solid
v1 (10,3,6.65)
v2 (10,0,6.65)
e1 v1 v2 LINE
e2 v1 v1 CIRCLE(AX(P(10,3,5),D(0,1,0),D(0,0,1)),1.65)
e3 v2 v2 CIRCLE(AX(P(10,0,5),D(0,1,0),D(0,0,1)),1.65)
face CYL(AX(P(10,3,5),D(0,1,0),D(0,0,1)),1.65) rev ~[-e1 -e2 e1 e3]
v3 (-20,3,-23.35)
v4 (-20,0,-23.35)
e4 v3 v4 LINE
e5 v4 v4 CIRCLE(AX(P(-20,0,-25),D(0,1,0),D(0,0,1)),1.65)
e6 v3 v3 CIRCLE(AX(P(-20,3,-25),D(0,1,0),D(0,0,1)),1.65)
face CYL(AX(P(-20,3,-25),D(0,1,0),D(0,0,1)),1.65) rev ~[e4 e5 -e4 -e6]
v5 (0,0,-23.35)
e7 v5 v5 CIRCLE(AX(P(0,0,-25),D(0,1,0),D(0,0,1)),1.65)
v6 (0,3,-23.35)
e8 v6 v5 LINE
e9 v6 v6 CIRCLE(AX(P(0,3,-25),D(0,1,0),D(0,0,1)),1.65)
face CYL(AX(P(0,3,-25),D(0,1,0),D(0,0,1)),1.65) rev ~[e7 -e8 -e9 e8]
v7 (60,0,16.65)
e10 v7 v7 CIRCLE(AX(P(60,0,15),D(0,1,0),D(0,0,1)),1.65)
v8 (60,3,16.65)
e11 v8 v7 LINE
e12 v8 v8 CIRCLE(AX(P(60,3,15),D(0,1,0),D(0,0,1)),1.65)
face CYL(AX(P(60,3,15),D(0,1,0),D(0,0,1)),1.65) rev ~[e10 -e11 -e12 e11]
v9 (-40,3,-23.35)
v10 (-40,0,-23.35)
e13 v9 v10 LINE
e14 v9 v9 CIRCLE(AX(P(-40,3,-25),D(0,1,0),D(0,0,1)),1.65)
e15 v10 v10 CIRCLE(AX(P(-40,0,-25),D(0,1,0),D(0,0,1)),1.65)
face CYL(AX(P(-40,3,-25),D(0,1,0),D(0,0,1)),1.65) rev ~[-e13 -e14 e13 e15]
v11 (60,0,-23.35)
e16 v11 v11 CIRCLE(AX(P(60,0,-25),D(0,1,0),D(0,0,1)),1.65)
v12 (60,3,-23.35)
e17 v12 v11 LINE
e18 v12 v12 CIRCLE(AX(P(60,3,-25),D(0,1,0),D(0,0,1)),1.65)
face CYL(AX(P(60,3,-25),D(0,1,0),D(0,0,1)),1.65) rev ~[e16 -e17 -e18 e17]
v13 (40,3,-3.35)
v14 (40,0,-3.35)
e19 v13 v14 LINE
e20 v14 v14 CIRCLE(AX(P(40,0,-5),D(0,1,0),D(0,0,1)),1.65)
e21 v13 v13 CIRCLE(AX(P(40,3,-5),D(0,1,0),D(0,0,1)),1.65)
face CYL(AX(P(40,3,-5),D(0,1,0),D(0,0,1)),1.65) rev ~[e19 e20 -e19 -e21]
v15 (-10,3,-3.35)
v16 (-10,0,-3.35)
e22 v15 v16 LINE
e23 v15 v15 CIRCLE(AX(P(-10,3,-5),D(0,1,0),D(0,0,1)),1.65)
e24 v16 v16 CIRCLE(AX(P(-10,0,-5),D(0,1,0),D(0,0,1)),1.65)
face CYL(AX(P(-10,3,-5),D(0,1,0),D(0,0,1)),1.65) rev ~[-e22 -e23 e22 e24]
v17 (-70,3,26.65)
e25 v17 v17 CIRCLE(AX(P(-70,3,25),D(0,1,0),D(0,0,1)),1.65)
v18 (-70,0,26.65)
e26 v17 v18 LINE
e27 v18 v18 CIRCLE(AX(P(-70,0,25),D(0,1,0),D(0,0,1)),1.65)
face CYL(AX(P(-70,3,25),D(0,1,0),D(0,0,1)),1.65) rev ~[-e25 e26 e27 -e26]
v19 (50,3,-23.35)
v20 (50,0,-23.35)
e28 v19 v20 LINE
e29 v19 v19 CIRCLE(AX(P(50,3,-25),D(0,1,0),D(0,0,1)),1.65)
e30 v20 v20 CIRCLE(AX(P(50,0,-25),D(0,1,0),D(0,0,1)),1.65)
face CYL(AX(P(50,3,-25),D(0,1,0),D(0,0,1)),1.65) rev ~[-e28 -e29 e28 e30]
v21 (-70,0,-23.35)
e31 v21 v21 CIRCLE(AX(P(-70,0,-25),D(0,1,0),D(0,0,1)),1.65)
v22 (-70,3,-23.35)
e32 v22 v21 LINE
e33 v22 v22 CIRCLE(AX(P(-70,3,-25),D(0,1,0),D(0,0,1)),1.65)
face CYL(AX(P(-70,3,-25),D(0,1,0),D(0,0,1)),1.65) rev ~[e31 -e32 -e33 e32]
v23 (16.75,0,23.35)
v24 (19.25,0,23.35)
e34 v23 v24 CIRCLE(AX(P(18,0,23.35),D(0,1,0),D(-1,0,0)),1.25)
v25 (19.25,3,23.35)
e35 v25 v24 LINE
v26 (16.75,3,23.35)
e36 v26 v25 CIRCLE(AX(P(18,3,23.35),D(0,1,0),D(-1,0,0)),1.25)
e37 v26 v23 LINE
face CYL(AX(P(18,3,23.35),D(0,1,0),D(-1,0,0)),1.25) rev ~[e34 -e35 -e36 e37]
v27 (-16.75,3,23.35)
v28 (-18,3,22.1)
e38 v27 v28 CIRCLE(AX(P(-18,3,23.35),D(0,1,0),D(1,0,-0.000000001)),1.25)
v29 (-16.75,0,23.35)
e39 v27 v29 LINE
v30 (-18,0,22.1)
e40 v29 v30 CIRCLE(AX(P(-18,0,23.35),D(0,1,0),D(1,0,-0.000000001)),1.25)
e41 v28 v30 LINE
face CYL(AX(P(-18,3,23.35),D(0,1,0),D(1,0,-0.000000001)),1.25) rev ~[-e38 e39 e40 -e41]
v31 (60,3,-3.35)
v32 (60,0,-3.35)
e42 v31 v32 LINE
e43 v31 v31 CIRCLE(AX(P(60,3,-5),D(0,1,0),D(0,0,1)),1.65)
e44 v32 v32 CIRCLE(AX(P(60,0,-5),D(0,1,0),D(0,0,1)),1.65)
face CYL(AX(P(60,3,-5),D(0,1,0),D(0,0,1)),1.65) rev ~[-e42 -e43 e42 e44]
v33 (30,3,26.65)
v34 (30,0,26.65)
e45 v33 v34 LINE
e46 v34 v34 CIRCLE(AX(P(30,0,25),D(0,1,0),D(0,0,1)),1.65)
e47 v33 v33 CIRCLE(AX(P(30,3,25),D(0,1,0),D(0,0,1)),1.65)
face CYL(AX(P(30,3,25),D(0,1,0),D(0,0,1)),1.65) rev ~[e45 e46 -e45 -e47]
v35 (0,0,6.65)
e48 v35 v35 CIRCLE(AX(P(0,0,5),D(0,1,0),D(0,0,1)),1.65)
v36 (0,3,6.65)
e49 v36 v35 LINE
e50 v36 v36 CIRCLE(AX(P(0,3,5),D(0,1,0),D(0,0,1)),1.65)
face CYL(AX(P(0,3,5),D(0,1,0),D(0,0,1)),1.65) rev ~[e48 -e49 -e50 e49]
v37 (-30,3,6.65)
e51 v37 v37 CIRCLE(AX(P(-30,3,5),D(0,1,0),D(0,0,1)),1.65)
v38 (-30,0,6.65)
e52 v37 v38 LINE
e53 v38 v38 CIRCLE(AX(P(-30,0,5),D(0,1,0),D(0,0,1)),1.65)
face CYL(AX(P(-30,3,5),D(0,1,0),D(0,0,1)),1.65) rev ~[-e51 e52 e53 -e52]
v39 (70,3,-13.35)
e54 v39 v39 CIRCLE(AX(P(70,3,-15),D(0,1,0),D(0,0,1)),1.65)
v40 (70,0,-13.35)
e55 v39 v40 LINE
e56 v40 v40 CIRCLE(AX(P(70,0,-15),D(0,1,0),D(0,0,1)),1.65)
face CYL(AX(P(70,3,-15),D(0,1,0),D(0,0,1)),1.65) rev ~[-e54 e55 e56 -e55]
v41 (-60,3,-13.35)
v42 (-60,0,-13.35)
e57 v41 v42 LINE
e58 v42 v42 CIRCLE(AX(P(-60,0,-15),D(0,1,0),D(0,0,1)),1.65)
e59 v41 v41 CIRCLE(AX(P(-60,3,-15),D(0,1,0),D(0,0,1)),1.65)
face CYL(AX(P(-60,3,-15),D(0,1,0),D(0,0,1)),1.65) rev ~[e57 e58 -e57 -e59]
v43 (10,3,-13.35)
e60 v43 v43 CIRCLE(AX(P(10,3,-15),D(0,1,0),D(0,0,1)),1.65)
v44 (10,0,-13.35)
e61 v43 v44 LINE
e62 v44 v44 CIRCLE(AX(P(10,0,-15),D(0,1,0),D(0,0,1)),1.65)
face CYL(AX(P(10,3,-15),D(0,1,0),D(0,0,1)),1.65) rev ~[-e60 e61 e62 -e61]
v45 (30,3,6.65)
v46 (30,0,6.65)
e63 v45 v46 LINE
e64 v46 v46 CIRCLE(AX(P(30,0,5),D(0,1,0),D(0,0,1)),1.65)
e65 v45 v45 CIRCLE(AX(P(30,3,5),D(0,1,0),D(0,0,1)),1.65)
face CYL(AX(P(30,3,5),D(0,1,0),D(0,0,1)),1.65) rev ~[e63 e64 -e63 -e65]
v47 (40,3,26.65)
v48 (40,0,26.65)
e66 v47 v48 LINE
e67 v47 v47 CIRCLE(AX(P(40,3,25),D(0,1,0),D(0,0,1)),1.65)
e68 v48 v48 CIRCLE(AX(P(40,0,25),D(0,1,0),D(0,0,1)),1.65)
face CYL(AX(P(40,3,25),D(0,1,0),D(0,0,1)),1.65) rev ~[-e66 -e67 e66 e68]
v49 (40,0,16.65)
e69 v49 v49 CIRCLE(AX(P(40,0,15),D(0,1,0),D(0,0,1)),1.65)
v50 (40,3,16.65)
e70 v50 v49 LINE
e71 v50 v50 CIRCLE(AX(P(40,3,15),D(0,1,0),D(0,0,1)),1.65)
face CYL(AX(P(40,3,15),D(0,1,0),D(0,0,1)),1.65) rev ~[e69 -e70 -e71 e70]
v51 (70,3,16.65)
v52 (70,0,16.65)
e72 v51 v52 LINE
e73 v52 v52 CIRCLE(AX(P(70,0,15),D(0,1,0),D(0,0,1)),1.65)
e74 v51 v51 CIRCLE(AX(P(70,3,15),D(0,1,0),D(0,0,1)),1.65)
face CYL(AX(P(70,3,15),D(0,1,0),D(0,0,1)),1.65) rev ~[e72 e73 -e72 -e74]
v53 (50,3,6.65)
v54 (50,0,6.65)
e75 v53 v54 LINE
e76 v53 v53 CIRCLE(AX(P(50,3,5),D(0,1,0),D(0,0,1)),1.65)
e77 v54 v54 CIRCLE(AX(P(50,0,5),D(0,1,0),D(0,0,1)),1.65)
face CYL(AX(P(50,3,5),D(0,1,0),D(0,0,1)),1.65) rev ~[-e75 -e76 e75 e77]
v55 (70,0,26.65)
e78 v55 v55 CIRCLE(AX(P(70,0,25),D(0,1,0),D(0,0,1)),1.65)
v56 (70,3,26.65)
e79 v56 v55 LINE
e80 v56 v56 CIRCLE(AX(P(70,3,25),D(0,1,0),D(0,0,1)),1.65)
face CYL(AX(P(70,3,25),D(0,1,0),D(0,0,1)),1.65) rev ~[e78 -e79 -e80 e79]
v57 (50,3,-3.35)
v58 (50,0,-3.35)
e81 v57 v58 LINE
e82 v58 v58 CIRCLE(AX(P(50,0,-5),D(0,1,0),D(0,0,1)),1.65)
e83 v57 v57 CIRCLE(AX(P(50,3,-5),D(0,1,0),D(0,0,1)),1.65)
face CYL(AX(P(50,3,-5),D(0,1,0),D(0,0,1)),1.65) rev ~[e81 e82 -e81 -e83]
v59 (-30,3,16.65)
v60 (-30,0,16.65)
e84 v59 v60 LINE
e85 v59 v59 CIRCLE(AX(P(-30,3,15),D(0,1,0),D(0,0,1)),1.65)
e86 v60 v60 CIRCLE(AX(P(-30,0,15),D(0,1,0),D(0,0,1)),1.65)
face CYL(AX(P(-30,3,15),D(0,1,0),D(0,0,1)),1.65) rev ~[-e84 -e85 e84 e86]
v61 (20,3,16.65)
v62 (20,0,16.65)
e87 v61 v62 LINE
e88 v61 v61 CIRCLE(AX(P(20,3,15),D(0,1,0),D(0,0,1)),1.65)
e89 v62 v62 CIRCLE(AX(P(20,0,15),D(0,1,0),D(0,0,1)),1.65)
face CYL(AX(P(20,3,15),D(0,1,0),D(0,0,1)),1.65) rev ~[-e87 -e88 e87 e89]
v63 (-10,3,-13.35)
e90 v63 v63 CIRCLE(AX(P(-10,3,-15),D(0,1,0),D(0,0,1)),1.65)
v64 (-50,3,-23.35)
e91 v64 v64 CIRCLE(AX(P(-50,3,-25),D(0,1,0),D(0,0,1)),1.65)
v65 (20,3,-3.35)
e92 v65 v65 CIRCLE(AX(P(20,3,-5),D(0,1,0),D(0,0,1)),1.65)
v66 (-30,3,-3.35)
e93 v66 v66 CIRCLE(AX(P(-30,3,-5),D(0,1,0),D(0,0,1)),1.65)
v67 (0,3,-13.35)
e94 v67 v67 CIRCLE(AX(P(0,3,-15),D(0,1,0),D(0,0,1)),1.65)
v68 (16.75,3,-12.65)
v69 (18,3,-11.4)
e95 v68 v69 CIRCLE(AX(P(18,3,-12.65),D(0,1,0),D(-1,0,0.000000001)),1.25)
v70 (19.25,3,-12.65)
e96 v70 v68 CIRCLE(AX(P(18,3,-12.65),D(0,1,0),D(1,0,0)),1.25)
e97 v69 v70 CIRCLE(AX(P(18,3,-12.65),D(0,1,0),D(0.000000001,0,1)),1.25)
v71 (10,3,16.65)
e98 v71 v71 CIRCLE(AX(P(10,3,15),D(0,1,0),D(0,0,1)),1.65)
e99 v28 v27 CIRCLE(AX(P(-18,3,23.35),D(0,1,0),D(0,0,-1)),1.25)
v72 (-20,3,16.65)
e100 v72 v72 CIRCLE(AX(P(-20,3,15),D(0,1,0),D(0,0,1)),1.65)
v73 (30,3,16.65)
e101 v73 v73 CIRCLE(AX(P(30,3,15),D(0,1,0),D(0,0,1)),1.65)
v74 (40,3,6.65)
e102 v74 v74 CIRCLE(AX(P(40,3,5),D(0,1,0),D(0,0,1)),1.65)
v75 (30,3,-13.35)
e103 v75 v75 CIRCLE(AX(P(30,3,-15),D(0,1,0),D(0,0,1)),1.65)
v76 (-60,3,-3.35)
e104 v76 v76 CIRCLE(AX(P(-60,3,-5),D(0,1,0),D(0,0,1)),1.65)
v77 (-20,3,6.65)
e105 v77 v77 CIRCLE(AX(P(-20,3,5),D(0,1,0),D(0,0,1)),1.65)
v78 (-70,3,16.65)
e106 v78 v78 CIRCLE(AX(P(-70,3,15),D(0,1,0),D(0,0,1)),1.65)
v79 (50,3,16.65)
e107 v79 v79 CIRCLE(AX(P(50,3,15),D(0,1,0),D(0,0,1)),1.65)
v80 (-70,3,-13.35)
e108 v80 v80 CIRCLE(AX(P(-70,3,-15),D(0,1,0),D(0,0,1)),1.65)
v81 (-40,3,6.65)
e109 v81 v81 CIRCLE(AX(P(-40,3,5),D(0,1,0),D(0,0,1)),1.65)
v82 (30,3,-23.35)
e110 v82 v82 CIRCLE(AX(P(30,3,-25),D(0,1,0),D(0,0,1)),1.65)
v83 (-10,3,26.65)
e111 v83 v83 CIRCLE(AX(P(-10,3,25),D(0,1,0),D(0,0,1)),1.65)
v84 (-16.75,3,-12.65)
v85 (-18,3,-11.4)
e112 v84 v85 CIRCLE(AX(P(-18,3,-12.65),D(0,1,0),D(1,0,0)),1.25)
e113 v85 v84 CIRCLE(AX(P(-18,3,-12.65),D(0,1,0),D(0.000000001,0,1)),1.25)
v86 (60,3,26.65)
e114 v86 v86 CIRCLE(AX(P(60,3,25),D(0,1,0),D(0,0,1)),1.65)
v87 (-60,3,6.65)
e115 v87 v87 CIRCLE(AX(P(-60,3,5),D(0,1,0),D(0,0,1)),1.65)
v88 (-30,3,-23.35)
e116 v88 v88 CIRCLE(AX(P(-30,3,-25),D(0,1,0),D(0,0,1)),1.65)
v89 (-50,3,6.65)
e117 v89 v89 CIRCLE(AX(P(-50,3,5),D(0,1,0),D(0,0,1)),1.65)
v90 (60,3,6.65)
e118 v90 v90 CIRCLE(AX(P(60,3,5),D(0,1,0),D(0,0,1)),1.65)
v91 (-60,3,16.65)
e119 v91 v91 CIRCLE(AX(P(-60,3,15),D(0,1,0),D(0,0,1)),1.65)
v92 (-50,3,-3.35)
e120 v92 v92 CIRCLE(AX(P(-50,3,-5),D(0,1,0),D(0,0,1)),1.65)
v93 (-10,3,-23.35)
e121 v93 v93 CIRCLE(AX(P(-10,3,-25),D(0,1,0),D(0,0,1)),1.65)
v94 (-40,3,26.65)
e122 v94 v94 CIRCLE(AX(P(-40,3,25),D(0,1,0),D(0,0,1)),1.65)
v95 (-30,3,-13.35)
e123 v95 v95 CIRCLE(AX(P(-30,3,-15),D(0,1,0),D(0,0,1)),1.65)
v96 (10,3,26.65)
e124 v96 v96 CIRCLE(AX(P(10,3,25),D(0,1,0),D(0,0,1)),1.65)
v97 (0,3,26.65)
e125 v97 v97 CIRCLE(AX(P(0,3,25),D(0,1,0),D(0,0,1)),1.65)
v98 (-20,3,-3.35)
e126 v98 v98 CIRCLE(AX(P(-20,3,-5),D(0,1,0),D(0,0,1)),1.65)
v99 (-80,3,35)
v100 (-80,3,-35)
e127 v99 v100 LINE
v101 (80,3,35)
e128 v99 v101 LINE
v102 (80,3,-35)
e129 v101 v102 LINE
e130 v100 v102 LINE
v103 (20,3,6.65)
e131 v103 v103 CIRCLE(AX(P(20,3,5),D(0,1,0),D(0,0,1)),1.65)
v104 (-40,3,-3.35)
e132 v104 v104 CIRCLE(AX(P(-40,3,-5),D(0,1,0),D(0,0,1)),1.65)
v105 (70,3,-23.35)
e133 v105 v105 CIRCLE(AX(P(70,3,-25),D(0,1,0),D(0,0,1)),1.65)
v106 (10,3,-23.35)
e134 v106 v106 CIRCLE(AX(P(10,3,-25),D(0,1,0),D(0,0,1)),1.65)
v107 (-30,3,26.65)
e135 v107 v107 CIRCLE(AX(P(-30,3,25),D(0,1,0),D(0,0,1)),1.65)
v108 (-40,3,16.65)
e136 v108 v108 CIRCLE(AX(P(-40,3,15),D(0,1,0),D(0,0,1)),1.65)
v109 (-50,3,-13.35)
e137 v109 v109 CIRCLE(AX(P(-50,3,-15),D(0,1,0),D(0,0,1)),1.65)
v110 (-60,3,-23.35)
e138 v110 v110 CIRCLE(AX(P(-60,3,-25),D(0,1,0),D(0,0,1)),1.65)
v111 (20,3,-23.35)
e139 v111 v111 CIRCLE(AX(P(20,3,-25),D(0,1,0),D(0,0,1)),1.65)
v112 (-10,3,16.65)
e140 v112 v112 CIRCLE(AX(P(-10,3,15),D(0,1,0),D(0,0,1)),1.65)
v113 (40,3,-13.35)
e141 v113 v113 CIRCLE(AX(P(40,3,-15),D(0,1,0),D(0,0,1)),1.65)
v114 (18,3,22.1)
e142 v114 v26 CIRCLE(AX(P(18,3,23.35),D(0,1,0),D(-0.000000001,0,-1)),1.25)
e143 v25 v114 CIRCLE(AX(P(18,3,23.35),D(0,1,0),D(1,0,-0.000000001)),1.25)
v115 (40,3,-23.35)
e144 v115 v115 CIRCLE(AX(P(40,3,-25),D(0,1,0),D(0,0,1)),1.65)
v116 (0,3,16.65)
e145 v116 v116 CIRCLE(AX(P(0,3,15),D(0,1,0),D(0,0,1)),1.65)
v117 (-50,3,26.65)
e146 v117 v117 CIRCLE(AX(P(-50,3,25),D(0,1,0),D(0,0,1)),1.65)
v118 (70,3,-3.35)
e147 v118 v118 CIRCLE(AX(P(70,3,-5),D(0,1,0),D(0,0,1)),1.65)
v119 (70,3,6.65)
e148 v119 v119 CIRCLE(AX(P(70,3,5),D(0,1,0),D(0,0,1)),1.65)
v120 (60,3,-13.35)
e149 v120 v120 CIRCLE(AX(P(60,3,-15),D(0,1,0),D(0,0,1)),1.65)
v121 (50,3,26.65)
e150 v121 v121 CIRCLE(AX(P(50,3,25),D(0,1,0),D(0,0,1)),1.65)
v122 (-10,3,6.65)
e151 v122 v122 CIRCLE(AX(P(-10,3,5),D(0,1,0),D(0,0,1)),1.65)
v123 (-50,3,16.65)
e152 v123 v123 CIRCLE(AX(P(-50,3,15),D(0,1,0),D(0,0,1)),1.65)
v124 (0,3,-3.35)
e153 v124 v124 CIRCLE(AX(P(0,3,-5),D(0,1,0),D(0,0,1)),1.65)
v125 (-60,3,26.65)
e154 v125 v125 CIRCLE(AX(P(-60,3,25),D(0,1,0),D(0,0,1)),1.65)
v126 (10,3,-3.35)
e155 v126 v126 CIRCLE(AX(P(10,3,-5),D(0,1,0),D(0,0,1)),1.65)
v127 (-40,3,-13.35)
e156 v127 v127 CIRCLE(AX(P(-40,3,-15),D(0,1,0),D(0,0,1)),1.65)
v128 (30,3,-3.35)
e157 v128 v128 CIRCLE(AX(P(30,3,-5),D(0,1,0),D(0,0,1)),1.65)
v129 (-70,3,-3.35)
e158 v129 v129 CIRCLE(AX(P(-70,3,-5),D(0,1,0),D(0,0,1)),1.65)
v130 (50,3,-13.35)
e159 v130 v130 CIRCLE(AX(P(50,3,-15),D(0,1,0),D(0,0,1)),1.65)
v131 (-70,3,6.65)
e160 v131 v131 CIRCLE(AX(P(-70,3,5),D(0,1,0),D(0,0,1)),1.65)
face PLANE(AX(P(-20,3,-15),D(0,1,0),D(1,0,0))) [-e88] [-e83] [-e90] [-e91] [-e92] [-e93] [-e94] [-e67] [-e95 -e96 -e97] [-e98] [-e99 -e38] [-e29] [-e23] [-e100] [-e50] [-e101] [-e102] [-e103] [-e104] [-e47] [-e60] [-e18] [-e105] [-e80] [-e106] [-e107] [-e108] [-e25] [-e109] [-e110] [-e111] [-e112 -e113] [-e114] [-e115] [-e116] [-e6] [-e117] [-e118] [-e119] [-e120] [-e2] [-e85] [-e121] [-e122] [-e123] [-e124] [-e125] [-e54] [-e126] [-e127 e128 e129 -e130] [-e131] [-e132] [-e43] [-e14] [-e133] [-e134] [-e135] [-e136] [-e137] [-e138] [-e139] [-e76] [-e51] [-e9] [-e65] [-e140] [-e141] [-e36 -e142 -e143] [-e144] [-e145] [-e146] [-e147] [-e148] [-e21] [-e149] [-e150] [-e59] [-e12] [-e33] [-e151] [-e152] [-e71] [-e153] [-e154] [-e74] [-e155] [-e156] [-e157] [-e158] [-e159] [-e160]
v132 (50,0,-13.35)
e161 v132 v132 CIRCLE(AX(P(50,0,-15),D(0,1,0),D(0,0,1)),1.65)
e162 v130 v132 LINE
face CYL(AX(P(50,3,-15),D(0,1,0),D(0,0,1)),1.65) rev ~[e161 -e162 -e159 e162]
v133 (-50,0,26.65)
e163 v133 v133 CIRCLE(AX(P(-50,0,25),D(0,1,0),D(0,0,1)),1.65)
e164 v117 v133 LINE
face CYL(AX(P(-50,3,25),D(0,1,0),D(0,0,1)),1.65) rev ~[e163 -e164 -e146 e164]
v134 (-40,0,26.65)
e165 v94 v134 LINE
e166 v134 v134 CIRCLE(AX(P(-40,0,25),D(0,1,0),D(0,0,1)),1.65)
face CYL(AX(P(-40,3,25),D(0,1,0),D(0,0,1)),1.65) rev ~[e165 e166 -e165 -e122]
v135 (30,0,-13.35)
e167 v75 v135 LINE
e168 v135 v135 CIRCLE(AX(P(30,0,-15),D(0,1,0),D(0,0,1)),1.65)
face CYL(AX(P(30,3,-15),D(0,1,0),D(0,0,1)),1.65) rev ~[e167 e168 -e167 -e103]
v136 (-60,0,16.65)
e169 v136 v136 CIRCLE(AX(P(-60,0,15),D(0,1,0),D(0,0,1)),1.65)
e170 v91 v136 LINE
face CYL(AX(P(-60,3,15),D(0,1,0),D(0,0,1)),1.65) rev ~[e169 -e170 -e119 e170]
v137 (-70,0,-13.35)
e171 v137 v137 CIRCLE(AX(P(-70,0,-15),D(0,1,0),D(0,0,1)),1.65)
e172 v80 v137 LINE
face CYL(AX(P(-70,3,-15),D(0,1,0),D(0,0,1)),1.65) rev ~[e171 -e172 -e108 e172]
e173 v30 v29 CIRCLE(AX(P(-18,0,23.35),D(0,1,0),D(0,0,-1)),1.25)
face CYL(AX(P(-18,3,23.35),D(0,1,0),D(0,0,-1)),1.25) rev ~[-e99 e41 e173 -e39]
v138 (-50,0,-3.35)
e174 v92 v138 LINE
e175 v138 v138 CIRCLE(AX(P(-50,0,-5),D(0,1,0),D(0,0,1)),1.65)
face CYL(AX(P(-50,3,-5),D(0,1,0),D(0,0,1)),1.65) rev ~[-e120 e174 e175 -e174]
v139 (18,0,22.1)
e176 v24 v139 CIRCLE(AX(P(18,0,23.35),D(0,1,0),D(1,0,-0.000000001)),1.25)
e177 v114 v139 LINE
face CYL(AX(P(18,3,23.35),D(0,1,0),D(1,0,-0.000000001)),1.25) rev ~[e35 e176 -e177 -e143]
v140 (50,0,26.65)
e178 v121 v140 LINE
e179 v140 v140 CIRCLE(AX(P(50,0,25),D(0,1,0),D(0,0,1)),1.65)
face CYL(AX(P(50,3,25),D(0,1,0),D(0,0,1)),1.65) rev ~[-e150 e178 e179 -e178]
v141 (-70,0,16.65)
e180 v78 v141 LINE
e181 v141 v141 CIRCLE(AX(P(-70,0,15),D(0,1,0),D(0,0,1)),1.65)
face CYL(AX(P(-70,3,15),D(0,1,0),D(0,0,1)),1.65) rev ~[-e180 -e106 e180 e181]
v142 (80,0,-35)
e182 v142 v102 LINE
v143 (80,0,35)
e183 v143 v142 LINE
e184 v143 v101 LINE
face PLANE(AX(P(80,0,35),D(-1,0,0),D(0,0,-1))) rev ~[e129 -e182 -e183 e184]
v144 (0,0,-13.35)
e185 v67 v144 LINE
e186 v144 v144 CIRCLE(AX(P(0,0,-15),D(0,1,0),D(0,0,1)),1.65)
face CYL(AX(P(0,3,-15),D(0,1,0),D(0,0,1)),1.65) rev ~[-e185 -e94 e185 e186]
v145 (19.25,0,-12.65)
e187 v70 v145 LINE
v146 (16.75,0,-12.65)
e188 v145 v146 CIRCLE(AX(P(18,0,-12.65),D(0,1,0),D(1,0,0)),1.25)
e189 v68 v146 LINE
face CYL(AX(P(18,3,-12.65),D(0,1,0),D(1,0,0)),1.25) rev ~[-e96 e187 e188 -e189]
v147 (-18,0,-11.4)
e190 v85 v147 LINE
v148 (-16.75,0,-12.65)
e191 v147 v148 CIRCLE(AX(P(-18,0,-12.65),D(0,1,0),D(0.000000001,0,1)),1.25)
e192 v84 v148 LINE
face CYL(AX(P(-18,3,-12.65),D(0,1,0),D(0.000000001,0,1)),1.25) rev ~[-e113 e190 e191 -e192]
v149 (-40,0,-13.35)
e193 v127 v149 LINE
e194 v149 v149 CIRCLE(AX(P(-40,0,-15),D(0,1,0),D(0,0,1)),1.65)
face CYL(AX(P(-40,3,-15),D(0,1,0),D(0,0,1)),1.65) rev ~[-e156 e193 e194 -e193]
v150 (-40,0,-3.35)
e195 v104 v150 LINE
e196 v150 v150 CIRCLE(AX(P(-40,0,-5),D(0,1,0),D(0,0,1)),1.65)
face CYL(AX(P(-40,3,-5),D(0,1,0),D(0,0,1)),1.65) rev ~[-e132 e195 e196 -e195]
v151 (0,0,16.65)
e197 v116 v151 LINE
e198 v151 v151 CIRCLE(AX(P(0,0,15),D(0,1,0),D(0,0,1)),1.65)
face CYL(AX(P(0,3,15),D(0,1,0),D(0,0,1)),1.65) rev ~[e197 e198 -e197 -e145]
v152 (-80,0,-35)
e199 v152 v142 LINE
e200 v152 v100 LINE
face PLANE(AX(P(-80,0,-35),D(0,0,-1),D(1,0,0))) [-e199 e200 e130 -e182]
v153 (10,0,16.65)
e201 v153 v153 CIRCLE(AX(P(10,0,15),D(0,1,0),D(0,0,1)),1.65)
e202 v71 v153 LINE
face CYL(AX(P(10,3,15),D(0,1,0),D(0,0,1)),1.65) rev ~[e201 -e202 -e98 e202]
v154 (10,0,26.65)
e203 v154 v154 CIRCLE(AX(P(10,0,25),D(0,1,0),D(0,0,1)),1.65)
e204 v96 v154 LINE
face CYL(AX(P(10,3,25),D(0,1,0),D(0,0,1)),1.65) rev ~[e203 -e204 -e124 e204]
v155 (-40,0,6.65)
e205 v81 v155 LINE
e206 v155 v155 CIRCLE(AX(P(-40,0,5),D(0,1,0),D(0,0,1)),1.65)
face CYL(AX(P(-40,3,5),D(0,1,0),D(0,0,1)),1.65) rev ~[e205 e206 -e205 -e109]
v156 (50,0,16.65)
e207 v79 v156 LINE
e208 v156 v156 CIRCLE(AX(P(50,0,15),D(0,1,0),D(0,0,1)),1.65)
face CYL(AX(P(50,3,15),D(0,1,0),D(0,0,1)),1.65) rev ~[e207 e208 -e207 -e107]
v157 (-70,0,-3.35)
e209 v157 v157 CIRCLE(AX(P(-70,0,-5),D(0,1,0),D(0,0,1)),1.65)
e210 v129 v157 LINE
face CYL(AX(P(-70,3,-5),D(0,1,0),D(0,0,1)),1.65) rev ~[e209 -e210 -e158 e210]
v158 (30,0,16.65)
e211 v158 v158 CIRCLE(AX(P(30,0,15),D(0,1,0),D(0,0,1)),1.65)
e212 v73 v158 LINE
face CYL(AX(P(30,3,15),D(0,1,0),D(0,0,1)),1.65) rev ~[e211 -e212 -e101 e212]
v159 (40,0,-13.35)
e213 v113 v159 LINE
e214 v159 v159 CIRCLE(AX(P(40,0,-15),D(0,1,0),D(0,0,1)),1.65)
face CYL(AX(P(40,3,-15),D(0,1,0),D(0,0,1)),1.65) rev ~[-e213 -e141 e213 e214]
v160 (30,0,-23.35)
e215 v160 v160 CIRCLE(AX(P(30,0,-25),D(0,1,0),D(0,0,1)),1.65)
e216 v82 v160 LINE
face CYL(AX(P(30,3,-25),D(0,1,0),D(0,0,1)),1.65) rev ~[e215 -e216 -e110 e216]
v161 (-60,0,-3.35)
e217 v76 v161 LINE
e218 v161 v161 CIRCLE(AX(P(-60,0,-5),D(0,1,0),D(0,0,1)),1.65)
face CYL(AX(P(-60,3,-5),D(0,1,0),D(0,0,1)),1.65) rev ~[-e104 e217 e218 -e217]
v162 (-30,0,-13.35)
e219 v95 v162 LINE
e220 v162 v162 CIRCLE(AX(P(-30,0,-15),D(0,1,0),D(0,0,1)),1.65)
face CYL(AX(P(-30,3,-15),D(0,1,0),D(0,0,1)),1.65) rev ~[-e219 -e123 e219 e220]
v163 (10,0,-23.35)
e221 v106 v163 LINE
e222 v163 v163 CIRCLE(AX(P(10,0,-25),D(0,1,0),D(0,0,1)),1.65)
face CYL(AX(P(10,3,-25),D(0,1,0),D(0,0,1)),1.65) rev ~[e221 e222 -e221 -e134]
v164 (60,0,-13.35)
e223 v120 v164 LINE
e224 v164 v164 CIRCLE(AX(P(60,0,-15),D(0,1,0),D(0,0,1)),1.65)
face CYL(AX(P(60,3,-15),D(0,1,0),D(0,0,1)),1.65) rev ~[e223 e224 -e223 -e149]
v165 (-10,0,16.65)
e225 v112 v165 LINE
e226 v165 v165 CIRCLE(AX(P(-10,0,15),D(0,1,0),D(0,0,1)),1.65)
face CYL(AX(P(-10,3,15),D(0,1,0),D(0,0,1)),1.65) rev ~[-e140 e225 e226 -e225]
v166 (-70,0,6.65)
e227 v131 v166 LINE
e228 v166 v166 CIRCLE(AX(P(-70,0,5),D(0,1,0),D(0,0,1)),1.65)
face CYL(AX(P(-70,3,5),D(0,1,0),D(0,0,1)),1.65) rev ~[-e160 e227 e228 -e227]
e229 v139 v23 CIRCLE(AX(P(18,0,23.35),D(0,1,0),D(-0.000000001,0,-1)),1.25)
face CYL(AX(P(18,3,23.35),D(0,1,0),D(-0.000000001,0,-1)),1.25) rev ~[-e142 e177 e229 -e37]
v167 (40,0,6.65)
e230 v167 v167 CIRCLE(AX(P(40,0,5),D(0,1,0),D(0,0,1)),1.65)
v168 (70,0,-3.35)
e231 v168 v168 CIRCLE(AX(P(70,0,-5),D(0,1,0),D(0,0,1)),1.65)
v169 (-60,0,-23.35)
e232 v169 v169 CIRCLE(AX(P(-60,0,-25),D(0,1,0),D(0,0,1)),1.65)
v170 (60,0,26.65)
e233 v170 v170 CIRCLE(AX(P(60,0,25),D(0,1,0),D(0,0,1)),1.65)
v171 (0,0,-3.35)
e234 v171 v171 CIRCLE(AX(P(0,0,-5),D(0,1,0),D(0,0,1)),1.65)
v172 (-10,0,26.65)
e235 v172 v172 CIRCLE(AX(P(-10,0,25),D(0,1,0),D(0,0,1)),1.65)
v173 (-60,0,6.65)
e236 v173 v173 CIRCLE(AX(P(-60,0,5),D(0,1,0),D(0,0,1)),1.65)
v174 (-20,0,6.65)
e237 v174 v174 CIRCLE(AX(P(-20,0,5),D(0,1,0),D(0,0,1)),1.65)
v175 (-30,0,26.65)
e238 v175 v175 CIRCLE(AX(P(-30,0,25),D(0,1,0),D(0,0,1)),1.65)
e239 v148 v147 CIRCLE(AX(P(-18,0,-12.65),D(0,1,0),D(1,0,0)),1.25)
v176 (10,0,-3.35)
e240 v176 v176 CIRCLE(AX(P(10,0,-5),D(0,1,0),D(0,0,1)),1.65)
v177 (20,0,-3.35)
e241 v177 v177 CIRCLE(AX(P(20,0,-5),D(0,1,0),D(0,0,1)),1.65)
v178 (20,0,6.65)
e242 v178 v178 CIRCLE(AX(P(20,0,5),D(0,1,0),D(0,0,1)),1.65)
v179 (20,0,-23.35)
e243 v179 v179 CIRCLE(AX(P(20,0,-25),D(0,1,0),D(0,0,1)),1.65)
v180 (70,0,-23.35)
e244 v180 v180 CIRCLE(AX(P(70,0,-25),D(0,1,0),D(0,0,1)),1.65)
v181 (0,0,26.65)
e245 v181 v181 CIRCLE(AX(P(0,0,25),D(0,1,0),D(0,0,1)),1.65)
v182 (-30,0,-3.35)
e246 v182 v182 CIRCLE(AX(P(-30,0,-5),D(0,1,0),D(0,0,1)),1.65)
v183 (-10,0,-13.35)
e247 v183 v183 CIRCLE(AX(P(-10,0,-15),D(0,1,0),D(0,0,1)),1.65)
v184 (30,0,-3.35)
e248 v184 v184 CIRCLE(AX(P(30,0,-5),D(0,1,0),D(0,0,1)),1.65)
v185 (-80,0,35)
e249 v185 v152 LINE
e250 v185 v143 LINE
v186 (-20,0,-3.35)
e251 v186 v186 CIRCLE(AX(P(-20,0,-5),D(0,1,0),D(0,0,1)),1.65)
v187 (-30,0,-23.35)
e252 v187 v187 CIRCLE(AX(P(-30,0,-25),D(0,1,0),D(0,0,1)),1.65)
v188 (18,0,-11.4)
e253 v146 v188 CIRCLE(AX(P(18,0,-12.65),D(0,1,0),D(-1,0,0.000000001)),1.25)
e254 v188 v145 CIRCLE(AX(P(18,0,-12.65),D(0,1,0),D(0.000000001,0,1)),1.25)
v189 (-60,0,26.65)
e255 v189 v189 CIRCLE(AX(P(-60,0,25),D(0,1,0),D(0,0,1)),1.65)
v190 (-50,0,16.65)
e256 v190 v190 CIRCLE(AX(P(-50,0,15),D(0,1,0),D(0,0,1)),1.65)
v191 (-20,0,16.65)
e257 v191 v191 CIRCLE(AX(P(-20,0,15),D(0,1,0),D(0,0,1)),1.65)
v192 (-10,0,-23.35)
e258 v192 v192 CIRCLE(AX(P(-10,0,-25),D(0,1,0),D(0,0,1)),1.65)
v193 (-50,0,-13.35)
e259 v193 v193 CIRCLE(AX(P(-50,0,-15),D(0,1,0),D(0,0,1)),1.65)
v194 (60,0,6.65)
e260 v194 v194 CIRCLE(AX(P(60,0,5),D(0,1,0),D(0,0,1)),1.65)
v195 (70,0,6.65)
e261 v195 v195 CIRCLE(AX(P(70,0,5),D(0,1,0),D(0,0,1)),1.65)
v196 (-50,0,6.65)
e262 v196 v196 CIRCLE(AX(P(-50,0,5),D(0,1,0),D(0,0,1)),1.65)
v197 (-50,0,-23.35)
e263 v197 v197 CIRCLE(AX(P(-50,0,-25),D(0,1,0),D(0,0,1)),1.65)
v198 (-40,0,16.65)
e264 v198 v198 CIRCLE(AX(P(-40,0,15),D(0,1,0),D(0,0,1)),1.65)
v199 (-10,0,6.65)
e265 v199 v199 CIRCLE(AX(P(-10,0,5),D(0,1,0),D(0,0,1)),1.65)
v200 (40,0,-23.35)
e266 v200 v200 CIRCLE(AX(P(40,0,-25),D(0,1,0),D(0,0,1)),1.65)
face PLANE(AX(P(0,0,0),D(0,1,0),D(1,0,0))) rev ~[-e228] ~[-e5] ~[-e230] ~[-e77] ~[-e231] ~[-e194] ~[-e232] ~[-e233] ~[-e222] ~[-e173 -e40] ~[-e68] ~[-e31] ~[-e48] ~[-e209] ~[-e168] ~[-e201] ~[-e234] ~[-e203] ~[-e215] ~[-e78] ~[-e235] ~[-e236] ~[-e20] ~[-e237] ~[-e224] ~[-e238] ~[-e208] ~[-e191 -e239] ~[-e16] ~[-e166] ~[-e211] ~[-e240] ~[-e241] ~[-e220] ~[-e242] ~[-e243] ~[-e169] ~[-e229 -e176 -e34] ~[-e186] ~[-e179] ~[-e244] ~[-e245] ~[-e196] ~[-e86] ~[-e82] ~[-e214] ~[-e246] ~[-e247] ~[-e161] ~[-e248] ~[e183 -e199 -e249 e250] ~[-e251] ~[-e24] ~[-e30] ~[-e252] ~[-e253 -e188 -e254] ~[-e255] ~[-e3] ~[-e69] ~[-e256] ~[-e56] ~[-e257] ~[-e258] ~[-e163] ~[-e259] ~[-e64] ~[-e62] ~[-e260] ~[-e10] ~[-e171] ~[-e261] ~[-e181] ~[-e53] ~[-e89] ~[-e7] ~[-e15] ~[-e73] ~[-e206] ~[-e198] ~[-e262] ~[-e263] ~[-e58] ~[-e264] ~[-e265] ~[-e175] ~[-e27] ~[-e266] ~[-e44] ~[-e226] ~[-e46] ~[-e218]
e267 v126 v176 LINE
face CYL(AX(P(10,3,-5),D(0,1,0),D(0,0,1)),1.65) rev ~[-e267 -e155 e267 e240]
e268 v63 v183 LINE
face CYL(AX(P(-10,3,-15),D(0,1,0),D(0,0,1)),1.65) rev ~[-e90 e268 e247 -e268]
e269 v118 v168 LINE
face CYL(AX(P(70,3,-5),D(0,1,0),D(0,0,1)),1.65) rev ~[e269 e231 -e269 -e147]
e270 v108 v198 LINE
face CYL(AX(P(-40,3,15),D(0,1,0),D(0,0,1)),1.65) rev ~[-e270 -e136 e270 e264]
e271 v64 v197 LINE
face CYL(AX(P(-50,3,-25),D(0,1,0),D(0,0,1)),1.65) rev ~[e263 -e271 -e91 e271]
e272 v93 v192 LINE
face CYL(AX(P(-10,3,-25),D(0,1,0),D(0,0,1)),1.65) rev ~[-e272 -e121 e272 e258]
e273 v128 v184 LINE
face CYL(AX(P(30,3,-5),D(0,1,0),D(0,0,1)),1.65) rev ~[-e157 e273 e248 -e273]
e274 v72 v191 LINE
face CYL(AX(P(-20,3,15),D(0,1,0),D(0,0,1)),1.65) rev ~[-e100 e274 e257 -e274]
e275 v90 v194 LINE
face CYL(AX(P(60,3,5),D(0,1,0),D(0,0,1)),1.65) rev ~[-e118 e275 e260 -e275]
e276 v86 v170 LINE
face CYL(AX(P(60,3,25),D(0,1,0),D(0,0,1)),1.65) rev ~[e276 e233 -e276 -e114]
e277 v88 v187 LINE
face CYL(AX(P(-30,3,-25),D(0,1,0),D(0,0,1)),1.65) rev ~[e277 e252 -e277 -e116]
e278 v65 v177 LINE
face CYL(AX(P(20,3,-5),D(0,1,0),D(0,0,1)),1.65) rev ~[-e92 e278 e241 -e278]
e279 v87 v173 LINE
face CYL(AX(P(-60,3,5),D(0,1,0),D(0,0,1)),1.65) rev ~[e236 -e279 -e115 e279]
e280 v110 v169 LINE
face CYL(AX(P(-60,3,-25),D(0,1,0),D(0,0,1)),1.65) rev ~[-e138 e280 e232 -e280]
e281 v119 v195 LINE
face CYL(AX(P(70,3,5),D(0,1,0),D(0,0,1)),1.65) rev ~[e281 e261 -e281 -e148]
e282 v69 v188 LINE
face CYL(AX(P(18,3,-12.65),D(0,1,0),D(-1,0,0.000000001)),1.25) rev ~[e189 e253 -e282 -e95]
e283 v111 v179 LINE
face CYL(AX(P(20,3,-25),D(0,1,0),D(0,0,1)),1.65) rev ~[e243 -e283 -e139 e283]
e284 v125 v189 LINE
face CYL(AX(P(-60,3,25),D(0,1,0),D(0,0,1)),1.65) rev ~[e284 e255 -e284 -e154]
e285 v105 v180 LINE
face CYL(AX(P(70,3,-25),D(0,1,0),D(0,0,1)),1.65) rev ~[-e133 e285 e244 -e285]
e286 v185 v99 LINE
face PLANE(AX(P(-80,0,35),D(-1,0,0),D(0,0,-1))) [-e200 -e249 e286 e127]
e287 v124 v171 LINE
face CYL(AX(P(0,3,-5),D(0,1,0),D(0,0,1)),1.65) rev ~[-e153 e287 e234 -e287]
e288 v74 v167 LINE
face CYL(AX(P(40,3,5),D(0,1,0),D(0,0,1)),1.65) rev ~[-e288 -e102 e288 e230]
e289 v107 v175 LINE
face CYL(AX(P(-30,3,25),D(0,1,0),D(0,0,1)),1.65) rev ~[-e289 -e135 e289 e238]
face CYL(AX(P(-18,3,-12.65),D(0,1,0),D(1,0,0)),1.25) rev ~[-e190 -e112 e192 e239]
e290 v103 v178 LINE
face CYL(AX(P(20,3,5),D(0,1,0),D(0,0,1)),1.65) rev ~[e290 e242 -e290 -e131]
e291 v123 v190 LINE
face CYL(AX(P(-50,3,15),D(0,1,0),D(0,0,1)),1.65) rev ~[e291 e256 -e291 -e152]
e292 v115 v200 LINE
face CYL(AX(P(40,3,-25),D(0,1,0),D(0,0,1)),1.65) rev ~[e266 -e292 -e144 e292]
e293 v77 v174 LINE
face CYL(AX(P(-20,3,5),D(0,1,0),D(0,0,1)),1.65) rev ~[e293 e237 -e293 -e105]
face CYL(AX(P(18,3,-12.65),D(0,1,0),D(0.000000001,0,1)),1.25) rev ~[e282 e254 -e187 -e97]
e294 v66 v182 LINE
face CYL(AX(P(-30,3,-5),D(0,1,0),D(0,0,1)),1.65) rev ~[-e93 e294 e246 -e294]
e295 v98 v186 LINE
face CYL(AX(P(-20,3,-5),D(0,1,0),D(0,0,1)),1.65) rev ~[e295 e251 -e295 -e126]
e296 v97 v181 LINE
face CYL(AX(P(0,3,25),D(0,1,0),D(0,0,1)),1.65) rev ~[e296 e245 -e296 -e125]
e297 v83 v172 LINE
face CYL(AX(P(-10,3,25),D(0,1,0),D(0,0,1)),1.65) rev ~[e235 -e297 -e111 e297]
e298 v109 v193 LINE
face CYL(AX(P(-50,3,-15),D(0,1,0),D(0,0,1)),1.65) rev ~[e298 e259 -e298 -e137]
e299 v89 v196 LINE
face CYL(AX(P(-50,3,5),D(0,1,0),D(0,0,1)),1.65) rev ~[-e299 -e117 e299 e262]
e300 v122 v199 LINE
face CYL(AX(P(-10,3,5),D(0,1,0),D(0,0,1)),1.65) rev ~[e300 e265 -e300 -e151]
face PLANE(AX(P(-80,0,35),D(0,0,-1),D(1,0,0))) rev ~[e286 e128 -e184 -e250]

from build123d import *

# Parameters (mm, degrees)
SKETCH_1_W          = 160
SKETCH_1_H          = 70
EXTRUDE_1_DEPTH     = 3
SKETCH_2_R          = 1.65
CUT_EXTRUDE_1_DEPTH = 3
SKETCH_3_R          = 1.65
EXTRUDE_2_DEPTH     = 3
CUT_EXTRUDE_2_DEPTH = 3


with BuildPart() as part:
    # 草图1 → 凸台-拉伸1 (new body)
    with BuildSketch(Plane(origin=(0, 0, 0), x_dir=(1, 0, 0), z_dir=(0, 1, 0))):
        Rectangle(SKETCH_1_W, SKETCH_1_H)
    extrude(amount=EXTRUDE_1_DEPTH)

    # 草图2 → 切除-拉伸1 (cut)
    with BuildSketch(Plane(origin=(0, 3, 0), x_dir=(1, 0, 0), z_dir=(0, 1, 0))):
        with Locations(Location((-70, 25, 0), (0, 0, 270))):
            Circle(SKETCH_2_R)
        with Locations(Location((-60, 25, 0), (0, 0, 270))):
            Circle(SKETCH_2_R)
        with Locations(Location((-50, 25, 0), (0, 0, 270))):
            Circle(SKETCH_2_R)
        with Locations(Location((-40, 25, 0), (0, 0, 270))):
            Circle(SKETCH_2_R)
        with Locations(Location((-30, 25, 0), (0, 0, 270))):
            Circle(SKETCH_2_R)
        with Locations(Location((-20, 25, 0), (0, 0, 270))):
            Circle(SKETCH_2_R)
        with Locations(Location((-10, 25, 0), (0, 0, 270))):
            Circle(SKETCH_2_R)
        with Locations(Location((0, 25, 0), (0, 0, 270))):
            Circle(SKETCH_2_R)
        with Locations(Location((10, 25, 0), (0, 0, 270))):
            Circle(SKETCH_2_R)
        with Locations(Location((20, 25, 0), (0, 0, 270))):
            Circle(SKETCH_2_R)
        with Locations(Location((30, 25, 0), (0, 0, 270))):
            Circle(SKETCH_2_R)
        with Locations(Location((40, 25, 0), (0, 0, 270))):
            Circle(SKETCH_2_R)
        with Locations(Location((50, 25, 0), (0, 0, 270))):
            Circle(SKETCH_2_R)
        with Locations(Location((60, 25, 0), (0, 0, 270))):
            Circle(SKETCH_2_R)
        with Locations(Location((70, 25, 0), (0, 0, 270))):
            Circle(SKETCH_2_R)
        with Locations(Location((-60, 15, 0), (0, 0, 270))):
            Circle(SKETCH_2_R)
        with Locations(Location((-50, 15, 0), (0, 0, 270))):
            Circle(SKETCH_2_R)
        with Locations(Location((-40, 15, 0), (0, 0, 270))):
            Circle(SKETCH_2_R)
        with Locations(Location((-30, 15, 0), (0, 0, 270))):
            Circle(SKETCH_2_R)
        with Locations(Location((-20, 15, 0), (0, 0, 270))):
            Circle(SKETCH_2_R)
        with Locations(Location((-10, 15, 0), (0, 0, 270))):
            Circle(SKETCH_2_R)
        with Locations(Location((0, 15, 0), (0, 0, 270))):
            Circle(SKETCH_2_R)
        with Locations(Location((10, 15, 0), (0, 0, 270))):
            Circle(SKETCH_2_R)
        with Locations(Location((20, 15, 0), (0, 0, 270))):
            Circle(SKETCH_2_R)
        with Locations(Location((30, 15, 0), (0, 0, 270))):
            Circle(SKETCH_2_R)
        with Locations(Location((40, 15, 0), (0, 0, 270))):
            Circle(SKETCH_2_R)
        with Locations(Location((50, 15, 0), (0, 0, 270))):
            Circle(SKETCH_2_R)
        with Locations(Location((60, 15, 0), (0, 0, 270))):
            Circle(SKETCH_2_R)
        with Locations(Location((70, 15, 0), (0, 0, 270))):
            Circle(SKETCH_2_R)
        with Locations(Location((-60, 5, 0), (0, 0, 270))):
            Circle(SKETCH_2_R)
        with Locations(Location((-50, 5, 0), (0, 0, 270))):
            Circle(SKETCH_2_R)
        with Locations(Location((-40, 5, 0), (0, 0, 270))):
            Circle(SKETCH_2_R)
        with Locations(Location((-30, 5, 0), (0, 0, 270))):
            Circle(SKETCH_2_R)
        with Locations(Location((-20, 5, 0), (0, 0, 270))):
            Circle(SKETCH_2_R)
        with Locations(Location((-10, 5, 0), (0, 0, 270))):
            Circle(SKETCH_2_R)
        with Locations(Location((0, 5, 0), (0, 0, 270))):
            Circle(SKETCH_2_R)
        with Locations(Location((10, 5, 0), (0, 0, 270))):
            Circle(SKETCH_2_R)
        with Locations(Location((20, 5, 0), (0, 0, 270))):
            Circle(SKETCH_2_R)
        with Locations(Location((30, 5, 0), (0, 0, 270))):
            Circle(SKETCH_2_R)
        with Locations(Location((40, 5, 0), (0, 0, 270))):
            Circle(SKETCH_2_R)
        with Locations(Location((50, 5, 0), (0, 0, 270))):
            Circle(SKETCH_2_R)
        with Locations(Location((60, 5, 0), (0, 0, 270))):
            Circle(SKETCH_2_R)
        with Locations(Location((70, 5, 0), (0, 0, 270))):
            Circle(SKETCH_2_R)
        with Locations(Location((-60, -5, 0), (0, 0, 270))):
            Circle(SKETCH_2_R)
        with Locations(Location((-50, -5, 0), (0, 0, 270))):
            Circle(SKETCH_2_R)
        with Locations(Location((-40, -5, 0), (0, 0, 270))):
            Circle(SKETCH_2_R)
        with Locations(Location((-30, -5, 0), (0, 0, 270))):
            Circle(SKETCH_2_R)
        with Locations(Location((-20, -5, 0), (0, 0, 270))):
            Circle(SKETCH_2_R)
        with Locations(Location((-10, -5, 0), (0, 0, 270))):
            Circle(SKETCH_2_R)
        with Locations(Location((0, -5, 0), (0, 0, 270))):
            Circle(SKETCH_2_R)
        with Locations(Location((10, -5, 0), (0, 0, 270))):
            Circle(SKETCH_2_R)
        with Locations(Location((20, -5, 0), (0, 0, 270))):
            Circle(SKETCH_2_R)
        with Locations(Location((30, -5, 0), (0, 0, 270))):
            Circle(SKETCH_2_R)
        with Locations(Location((40, -5, 0), (0, 0, 270))):
            Circle(SKETCH_2_R)
        with Locations(Location((50, -5, 0), (0, 0, 270))):
            Circle(SKETCH_2_R)
        with Locations(Location((60, -5, 0), (0, 0, 270))):
            Circle(SKETCH_2_R)
        with Locations(Location((70, -5, 0), (0, 0, 270))):
            Circle(SKETCH_2_R)
        with Locations(Location((-60, -15, 0), (0, 0, 270))):
            Circle(SKETCH_2_R)
        with Locations(Location((-50, -15, 0), (0, 0, 270))):
            Circle(SKETCH_2_R)
        with Locations(Location((-40, -15, 0), (0, 0, 270))):
            Circle(SKETCH_2_R)
        with Locations(Location((-30, -15, 0), (0, 0, 270))):
            Circle(SKETCH_2_R)
        with Locations(Location((-20, -15, 0), (0, 0, 270))):
            Circle(SKETCH_2_R)
        with Locations(Location((-10, -15, 0), (0, 0, 270))):
            Circle(SKETCH_2_R)
        with Locations(Location((0, -15, 0), (0, 0, 270))):
            Circle(SKETCH_2_R)
        with Locations(Location((10, -15, 0), (0, 0, 270))):
            Circle(SKETCH_2_R)
        with Locations(Location((20, -15, 0), (0, 0, 270))):
            Circle(SKETCH_2_R)
        with Locations(Location((30, -15, 0), (0, 0, 270))):
            Circle(SKETCH_2_R)
        with Locations(Location((40, -15, 0), (0, 0, 270))):
            Circle(SKETCH_2_R)
        with Locations(Location((50, -15, 0), (0, 0, 270))):
            Circle(SKETCH_2_R)
        with Locations(Location((60, -15, 0), (0, 0, 270))):
            Circle(SKETCH_2_R)
        with Locations(Location((70, -15, 0), (0, 0, 270))):
            Circle(SKETCH_2_R)
        with Locations(Location((-60, -25, 0), (0, 0, 270))):
            Circle(SKETCH_2_R)
        with Locations(Location((-50, -25, 0), (0, 0, 270))):
            Circle(SKETCH_2_R)
        with Locations(Location((-40, -25, 0), (0, 0, 270))):
            Circle(SKETCH_2_R)
        with Locations(Location((-30, -25, 0), (0, 0, 270))):
            Circle(SKETCH_2_R)
        with Locations(Location((-20, -25, 0), (0, 0, 270))):
            Circle(SKETCH_2_R)
        with Locations(Location((-10, -25, 0), (0, 0, 270))):
            Circle(SKETCH_2_R)
        with Locations(Location((0, -25, 0), (0, 0, 270))):
            Circle(SKETCH_2_R)
        with Locations(Location((10, -25, 0), (0, 0, 270))):
            Circle(SKETCH_2_R)
        with Locations(Location((20, -25, 0), (0, 0, 270))):
            Circle(SKETCH_2_R)
        with Locations(Location((30, -25, 0), (0, 0, 270))):
            Circle(SKETCH_2_R)
        with Locations(Location((40, -25, 0), (0, 0, 270))):
            Circle(SKETCH_2_R)
        with Locations(Location((50, -25, 0), (0, 0, 270))):
            Circle(SKETCH_2_R)
        with Locations(Location((60, -25, 0), (0, 0, 270))):
            Circle(SKETCH_2_R)
        with Locations(Location((70, -25, 0), (0, 0, 270))):
            Circle(SKETCH_2_R)
        with Locations(Location((-70, 15, 0), (0, 0, 270))):
            Circle(SKETCH_2_R)
        with Locations(Location((-70, 5, 0), (0, 0, 270))):
            Circle(SKETCH_2_R)
        with Locations(Location((-70, -5, 0), (0, 0, 270))):
            Circle(SKETCH_2_R)
        with Locations(Location((-70, -15, 0), (0, 0, 270))):
            Circle(SKETCH_2_R)
        with Locations(Location((-70, -25, 0), (0, 0, 270))):
            Circle(SKETCH_2_R)
    extrude(amount=-CUT_EXTRUDE_1_DEPTH, mode=Mode.SUBTRACT)

    # 草图3 → 凸台-拉伸2 (add)
    with BuildSketch(Plane(origin=(0, 3, 0), x_dir=(1, 0, 0), z_dir=(0, 1, 0))):
        with Locations((-20, 15)):
            Circle(SKETCH_3_R)
        with Locations((20, 15)):
            Circle(SKETCH_3_R)
        with Locations((20, -25)):
            Circle(SKETCH_3_R)
        with Locations((-20, -25)):
            Circle(SKETCH_3_R)
    extrude(amount=-EXTRUDE_2_DEPTH)

    # 草图4 → 切除-拉伸2 (cut)
    with BuildSketch(Plane(origin=(0, 3, 0), x_dir=(1, 0, 0), z_dir=(0, 1, 0))):
        with BuildLine():
            Line((-18, 11.4), (-18, 12.65))
            Line((-18, 12.65), (-16.75, 12.65))
            ThreePointArc((-16.75, 12.65), (-18.883883476, 13.533883476), (-18, 11.4))
        make_face()
        with BuildLine():
            Line((-16.75, 12.65), (-18, 12.65))
            Line((-18, 12.65), (-18, 11.4))
            ThreePointArc((-18, 11.4), (-17.116116524, 11.766116524), (-16.75, 12.65))
        make_face()
        with BuildLine():
            ThreePointArc((19.25, 12.65), (18, 13.9), (16.75, 12.65))
            Line((16.75, 12.65), (18, 12.65))
            Line((18, 12.65), (18, 11.4))
            ThreePointArc((18, 11.4), (18.883883476, 11.766116524), (19.25, 12.65))
        make_face()
        with BuildLine():
            Line((18, 12.65), (16.75, 12.65))
            ThreePointArc((16.75, 12.65), (17.116116524, 11.766116524), (18, 11.4))
            Line((18, 11.4), (18, 12.65))
        make_face()
        with BuildLine():
            ThreePointArc((19.25, -23.35), (18.883883476, -22.466116524), (18, -22.1))
            Line((18, -22.1), (18, -23.35))
            Line((18, -23.35), (16.75, -23.35))
            ThreePointArc((16.75, -23.35), (18, -24.6), (19.25, -23.35))
        make_face()
        with BuildLine():
            Line((18, -23.35), (18, -22.1))
            ThreePointArc((18, -22.1), (17.116116524, -22.466116524), (16.75, -23.35))
            Line((16.75, -23.35), (18, -23.35))
        make_face()
        with BuildLine():
            ThreePointArc((-16.75, -23.35), (-17.116116524, -22.466116524), (-18, -22.1))
            Line((-18, -22.1), (-18, -23.35))
            Line((-18, -23.35), (-16.75, -23.35))
        make_face()
        with BuildLine():
            Line((-18, -23.35), (-18, -22.1))
            ThreePointArc((-18, -22.1), (-18.883883476, -24.233883476), (-16.75, -23.35))
            Line((-16.75, -23.35), (-18, -23.35))
        make_face()
    extrude(amount=-CUT_EXTRUDE_2_DEPTH, mode=Mode.SUBTRACT)


solid = part.part
